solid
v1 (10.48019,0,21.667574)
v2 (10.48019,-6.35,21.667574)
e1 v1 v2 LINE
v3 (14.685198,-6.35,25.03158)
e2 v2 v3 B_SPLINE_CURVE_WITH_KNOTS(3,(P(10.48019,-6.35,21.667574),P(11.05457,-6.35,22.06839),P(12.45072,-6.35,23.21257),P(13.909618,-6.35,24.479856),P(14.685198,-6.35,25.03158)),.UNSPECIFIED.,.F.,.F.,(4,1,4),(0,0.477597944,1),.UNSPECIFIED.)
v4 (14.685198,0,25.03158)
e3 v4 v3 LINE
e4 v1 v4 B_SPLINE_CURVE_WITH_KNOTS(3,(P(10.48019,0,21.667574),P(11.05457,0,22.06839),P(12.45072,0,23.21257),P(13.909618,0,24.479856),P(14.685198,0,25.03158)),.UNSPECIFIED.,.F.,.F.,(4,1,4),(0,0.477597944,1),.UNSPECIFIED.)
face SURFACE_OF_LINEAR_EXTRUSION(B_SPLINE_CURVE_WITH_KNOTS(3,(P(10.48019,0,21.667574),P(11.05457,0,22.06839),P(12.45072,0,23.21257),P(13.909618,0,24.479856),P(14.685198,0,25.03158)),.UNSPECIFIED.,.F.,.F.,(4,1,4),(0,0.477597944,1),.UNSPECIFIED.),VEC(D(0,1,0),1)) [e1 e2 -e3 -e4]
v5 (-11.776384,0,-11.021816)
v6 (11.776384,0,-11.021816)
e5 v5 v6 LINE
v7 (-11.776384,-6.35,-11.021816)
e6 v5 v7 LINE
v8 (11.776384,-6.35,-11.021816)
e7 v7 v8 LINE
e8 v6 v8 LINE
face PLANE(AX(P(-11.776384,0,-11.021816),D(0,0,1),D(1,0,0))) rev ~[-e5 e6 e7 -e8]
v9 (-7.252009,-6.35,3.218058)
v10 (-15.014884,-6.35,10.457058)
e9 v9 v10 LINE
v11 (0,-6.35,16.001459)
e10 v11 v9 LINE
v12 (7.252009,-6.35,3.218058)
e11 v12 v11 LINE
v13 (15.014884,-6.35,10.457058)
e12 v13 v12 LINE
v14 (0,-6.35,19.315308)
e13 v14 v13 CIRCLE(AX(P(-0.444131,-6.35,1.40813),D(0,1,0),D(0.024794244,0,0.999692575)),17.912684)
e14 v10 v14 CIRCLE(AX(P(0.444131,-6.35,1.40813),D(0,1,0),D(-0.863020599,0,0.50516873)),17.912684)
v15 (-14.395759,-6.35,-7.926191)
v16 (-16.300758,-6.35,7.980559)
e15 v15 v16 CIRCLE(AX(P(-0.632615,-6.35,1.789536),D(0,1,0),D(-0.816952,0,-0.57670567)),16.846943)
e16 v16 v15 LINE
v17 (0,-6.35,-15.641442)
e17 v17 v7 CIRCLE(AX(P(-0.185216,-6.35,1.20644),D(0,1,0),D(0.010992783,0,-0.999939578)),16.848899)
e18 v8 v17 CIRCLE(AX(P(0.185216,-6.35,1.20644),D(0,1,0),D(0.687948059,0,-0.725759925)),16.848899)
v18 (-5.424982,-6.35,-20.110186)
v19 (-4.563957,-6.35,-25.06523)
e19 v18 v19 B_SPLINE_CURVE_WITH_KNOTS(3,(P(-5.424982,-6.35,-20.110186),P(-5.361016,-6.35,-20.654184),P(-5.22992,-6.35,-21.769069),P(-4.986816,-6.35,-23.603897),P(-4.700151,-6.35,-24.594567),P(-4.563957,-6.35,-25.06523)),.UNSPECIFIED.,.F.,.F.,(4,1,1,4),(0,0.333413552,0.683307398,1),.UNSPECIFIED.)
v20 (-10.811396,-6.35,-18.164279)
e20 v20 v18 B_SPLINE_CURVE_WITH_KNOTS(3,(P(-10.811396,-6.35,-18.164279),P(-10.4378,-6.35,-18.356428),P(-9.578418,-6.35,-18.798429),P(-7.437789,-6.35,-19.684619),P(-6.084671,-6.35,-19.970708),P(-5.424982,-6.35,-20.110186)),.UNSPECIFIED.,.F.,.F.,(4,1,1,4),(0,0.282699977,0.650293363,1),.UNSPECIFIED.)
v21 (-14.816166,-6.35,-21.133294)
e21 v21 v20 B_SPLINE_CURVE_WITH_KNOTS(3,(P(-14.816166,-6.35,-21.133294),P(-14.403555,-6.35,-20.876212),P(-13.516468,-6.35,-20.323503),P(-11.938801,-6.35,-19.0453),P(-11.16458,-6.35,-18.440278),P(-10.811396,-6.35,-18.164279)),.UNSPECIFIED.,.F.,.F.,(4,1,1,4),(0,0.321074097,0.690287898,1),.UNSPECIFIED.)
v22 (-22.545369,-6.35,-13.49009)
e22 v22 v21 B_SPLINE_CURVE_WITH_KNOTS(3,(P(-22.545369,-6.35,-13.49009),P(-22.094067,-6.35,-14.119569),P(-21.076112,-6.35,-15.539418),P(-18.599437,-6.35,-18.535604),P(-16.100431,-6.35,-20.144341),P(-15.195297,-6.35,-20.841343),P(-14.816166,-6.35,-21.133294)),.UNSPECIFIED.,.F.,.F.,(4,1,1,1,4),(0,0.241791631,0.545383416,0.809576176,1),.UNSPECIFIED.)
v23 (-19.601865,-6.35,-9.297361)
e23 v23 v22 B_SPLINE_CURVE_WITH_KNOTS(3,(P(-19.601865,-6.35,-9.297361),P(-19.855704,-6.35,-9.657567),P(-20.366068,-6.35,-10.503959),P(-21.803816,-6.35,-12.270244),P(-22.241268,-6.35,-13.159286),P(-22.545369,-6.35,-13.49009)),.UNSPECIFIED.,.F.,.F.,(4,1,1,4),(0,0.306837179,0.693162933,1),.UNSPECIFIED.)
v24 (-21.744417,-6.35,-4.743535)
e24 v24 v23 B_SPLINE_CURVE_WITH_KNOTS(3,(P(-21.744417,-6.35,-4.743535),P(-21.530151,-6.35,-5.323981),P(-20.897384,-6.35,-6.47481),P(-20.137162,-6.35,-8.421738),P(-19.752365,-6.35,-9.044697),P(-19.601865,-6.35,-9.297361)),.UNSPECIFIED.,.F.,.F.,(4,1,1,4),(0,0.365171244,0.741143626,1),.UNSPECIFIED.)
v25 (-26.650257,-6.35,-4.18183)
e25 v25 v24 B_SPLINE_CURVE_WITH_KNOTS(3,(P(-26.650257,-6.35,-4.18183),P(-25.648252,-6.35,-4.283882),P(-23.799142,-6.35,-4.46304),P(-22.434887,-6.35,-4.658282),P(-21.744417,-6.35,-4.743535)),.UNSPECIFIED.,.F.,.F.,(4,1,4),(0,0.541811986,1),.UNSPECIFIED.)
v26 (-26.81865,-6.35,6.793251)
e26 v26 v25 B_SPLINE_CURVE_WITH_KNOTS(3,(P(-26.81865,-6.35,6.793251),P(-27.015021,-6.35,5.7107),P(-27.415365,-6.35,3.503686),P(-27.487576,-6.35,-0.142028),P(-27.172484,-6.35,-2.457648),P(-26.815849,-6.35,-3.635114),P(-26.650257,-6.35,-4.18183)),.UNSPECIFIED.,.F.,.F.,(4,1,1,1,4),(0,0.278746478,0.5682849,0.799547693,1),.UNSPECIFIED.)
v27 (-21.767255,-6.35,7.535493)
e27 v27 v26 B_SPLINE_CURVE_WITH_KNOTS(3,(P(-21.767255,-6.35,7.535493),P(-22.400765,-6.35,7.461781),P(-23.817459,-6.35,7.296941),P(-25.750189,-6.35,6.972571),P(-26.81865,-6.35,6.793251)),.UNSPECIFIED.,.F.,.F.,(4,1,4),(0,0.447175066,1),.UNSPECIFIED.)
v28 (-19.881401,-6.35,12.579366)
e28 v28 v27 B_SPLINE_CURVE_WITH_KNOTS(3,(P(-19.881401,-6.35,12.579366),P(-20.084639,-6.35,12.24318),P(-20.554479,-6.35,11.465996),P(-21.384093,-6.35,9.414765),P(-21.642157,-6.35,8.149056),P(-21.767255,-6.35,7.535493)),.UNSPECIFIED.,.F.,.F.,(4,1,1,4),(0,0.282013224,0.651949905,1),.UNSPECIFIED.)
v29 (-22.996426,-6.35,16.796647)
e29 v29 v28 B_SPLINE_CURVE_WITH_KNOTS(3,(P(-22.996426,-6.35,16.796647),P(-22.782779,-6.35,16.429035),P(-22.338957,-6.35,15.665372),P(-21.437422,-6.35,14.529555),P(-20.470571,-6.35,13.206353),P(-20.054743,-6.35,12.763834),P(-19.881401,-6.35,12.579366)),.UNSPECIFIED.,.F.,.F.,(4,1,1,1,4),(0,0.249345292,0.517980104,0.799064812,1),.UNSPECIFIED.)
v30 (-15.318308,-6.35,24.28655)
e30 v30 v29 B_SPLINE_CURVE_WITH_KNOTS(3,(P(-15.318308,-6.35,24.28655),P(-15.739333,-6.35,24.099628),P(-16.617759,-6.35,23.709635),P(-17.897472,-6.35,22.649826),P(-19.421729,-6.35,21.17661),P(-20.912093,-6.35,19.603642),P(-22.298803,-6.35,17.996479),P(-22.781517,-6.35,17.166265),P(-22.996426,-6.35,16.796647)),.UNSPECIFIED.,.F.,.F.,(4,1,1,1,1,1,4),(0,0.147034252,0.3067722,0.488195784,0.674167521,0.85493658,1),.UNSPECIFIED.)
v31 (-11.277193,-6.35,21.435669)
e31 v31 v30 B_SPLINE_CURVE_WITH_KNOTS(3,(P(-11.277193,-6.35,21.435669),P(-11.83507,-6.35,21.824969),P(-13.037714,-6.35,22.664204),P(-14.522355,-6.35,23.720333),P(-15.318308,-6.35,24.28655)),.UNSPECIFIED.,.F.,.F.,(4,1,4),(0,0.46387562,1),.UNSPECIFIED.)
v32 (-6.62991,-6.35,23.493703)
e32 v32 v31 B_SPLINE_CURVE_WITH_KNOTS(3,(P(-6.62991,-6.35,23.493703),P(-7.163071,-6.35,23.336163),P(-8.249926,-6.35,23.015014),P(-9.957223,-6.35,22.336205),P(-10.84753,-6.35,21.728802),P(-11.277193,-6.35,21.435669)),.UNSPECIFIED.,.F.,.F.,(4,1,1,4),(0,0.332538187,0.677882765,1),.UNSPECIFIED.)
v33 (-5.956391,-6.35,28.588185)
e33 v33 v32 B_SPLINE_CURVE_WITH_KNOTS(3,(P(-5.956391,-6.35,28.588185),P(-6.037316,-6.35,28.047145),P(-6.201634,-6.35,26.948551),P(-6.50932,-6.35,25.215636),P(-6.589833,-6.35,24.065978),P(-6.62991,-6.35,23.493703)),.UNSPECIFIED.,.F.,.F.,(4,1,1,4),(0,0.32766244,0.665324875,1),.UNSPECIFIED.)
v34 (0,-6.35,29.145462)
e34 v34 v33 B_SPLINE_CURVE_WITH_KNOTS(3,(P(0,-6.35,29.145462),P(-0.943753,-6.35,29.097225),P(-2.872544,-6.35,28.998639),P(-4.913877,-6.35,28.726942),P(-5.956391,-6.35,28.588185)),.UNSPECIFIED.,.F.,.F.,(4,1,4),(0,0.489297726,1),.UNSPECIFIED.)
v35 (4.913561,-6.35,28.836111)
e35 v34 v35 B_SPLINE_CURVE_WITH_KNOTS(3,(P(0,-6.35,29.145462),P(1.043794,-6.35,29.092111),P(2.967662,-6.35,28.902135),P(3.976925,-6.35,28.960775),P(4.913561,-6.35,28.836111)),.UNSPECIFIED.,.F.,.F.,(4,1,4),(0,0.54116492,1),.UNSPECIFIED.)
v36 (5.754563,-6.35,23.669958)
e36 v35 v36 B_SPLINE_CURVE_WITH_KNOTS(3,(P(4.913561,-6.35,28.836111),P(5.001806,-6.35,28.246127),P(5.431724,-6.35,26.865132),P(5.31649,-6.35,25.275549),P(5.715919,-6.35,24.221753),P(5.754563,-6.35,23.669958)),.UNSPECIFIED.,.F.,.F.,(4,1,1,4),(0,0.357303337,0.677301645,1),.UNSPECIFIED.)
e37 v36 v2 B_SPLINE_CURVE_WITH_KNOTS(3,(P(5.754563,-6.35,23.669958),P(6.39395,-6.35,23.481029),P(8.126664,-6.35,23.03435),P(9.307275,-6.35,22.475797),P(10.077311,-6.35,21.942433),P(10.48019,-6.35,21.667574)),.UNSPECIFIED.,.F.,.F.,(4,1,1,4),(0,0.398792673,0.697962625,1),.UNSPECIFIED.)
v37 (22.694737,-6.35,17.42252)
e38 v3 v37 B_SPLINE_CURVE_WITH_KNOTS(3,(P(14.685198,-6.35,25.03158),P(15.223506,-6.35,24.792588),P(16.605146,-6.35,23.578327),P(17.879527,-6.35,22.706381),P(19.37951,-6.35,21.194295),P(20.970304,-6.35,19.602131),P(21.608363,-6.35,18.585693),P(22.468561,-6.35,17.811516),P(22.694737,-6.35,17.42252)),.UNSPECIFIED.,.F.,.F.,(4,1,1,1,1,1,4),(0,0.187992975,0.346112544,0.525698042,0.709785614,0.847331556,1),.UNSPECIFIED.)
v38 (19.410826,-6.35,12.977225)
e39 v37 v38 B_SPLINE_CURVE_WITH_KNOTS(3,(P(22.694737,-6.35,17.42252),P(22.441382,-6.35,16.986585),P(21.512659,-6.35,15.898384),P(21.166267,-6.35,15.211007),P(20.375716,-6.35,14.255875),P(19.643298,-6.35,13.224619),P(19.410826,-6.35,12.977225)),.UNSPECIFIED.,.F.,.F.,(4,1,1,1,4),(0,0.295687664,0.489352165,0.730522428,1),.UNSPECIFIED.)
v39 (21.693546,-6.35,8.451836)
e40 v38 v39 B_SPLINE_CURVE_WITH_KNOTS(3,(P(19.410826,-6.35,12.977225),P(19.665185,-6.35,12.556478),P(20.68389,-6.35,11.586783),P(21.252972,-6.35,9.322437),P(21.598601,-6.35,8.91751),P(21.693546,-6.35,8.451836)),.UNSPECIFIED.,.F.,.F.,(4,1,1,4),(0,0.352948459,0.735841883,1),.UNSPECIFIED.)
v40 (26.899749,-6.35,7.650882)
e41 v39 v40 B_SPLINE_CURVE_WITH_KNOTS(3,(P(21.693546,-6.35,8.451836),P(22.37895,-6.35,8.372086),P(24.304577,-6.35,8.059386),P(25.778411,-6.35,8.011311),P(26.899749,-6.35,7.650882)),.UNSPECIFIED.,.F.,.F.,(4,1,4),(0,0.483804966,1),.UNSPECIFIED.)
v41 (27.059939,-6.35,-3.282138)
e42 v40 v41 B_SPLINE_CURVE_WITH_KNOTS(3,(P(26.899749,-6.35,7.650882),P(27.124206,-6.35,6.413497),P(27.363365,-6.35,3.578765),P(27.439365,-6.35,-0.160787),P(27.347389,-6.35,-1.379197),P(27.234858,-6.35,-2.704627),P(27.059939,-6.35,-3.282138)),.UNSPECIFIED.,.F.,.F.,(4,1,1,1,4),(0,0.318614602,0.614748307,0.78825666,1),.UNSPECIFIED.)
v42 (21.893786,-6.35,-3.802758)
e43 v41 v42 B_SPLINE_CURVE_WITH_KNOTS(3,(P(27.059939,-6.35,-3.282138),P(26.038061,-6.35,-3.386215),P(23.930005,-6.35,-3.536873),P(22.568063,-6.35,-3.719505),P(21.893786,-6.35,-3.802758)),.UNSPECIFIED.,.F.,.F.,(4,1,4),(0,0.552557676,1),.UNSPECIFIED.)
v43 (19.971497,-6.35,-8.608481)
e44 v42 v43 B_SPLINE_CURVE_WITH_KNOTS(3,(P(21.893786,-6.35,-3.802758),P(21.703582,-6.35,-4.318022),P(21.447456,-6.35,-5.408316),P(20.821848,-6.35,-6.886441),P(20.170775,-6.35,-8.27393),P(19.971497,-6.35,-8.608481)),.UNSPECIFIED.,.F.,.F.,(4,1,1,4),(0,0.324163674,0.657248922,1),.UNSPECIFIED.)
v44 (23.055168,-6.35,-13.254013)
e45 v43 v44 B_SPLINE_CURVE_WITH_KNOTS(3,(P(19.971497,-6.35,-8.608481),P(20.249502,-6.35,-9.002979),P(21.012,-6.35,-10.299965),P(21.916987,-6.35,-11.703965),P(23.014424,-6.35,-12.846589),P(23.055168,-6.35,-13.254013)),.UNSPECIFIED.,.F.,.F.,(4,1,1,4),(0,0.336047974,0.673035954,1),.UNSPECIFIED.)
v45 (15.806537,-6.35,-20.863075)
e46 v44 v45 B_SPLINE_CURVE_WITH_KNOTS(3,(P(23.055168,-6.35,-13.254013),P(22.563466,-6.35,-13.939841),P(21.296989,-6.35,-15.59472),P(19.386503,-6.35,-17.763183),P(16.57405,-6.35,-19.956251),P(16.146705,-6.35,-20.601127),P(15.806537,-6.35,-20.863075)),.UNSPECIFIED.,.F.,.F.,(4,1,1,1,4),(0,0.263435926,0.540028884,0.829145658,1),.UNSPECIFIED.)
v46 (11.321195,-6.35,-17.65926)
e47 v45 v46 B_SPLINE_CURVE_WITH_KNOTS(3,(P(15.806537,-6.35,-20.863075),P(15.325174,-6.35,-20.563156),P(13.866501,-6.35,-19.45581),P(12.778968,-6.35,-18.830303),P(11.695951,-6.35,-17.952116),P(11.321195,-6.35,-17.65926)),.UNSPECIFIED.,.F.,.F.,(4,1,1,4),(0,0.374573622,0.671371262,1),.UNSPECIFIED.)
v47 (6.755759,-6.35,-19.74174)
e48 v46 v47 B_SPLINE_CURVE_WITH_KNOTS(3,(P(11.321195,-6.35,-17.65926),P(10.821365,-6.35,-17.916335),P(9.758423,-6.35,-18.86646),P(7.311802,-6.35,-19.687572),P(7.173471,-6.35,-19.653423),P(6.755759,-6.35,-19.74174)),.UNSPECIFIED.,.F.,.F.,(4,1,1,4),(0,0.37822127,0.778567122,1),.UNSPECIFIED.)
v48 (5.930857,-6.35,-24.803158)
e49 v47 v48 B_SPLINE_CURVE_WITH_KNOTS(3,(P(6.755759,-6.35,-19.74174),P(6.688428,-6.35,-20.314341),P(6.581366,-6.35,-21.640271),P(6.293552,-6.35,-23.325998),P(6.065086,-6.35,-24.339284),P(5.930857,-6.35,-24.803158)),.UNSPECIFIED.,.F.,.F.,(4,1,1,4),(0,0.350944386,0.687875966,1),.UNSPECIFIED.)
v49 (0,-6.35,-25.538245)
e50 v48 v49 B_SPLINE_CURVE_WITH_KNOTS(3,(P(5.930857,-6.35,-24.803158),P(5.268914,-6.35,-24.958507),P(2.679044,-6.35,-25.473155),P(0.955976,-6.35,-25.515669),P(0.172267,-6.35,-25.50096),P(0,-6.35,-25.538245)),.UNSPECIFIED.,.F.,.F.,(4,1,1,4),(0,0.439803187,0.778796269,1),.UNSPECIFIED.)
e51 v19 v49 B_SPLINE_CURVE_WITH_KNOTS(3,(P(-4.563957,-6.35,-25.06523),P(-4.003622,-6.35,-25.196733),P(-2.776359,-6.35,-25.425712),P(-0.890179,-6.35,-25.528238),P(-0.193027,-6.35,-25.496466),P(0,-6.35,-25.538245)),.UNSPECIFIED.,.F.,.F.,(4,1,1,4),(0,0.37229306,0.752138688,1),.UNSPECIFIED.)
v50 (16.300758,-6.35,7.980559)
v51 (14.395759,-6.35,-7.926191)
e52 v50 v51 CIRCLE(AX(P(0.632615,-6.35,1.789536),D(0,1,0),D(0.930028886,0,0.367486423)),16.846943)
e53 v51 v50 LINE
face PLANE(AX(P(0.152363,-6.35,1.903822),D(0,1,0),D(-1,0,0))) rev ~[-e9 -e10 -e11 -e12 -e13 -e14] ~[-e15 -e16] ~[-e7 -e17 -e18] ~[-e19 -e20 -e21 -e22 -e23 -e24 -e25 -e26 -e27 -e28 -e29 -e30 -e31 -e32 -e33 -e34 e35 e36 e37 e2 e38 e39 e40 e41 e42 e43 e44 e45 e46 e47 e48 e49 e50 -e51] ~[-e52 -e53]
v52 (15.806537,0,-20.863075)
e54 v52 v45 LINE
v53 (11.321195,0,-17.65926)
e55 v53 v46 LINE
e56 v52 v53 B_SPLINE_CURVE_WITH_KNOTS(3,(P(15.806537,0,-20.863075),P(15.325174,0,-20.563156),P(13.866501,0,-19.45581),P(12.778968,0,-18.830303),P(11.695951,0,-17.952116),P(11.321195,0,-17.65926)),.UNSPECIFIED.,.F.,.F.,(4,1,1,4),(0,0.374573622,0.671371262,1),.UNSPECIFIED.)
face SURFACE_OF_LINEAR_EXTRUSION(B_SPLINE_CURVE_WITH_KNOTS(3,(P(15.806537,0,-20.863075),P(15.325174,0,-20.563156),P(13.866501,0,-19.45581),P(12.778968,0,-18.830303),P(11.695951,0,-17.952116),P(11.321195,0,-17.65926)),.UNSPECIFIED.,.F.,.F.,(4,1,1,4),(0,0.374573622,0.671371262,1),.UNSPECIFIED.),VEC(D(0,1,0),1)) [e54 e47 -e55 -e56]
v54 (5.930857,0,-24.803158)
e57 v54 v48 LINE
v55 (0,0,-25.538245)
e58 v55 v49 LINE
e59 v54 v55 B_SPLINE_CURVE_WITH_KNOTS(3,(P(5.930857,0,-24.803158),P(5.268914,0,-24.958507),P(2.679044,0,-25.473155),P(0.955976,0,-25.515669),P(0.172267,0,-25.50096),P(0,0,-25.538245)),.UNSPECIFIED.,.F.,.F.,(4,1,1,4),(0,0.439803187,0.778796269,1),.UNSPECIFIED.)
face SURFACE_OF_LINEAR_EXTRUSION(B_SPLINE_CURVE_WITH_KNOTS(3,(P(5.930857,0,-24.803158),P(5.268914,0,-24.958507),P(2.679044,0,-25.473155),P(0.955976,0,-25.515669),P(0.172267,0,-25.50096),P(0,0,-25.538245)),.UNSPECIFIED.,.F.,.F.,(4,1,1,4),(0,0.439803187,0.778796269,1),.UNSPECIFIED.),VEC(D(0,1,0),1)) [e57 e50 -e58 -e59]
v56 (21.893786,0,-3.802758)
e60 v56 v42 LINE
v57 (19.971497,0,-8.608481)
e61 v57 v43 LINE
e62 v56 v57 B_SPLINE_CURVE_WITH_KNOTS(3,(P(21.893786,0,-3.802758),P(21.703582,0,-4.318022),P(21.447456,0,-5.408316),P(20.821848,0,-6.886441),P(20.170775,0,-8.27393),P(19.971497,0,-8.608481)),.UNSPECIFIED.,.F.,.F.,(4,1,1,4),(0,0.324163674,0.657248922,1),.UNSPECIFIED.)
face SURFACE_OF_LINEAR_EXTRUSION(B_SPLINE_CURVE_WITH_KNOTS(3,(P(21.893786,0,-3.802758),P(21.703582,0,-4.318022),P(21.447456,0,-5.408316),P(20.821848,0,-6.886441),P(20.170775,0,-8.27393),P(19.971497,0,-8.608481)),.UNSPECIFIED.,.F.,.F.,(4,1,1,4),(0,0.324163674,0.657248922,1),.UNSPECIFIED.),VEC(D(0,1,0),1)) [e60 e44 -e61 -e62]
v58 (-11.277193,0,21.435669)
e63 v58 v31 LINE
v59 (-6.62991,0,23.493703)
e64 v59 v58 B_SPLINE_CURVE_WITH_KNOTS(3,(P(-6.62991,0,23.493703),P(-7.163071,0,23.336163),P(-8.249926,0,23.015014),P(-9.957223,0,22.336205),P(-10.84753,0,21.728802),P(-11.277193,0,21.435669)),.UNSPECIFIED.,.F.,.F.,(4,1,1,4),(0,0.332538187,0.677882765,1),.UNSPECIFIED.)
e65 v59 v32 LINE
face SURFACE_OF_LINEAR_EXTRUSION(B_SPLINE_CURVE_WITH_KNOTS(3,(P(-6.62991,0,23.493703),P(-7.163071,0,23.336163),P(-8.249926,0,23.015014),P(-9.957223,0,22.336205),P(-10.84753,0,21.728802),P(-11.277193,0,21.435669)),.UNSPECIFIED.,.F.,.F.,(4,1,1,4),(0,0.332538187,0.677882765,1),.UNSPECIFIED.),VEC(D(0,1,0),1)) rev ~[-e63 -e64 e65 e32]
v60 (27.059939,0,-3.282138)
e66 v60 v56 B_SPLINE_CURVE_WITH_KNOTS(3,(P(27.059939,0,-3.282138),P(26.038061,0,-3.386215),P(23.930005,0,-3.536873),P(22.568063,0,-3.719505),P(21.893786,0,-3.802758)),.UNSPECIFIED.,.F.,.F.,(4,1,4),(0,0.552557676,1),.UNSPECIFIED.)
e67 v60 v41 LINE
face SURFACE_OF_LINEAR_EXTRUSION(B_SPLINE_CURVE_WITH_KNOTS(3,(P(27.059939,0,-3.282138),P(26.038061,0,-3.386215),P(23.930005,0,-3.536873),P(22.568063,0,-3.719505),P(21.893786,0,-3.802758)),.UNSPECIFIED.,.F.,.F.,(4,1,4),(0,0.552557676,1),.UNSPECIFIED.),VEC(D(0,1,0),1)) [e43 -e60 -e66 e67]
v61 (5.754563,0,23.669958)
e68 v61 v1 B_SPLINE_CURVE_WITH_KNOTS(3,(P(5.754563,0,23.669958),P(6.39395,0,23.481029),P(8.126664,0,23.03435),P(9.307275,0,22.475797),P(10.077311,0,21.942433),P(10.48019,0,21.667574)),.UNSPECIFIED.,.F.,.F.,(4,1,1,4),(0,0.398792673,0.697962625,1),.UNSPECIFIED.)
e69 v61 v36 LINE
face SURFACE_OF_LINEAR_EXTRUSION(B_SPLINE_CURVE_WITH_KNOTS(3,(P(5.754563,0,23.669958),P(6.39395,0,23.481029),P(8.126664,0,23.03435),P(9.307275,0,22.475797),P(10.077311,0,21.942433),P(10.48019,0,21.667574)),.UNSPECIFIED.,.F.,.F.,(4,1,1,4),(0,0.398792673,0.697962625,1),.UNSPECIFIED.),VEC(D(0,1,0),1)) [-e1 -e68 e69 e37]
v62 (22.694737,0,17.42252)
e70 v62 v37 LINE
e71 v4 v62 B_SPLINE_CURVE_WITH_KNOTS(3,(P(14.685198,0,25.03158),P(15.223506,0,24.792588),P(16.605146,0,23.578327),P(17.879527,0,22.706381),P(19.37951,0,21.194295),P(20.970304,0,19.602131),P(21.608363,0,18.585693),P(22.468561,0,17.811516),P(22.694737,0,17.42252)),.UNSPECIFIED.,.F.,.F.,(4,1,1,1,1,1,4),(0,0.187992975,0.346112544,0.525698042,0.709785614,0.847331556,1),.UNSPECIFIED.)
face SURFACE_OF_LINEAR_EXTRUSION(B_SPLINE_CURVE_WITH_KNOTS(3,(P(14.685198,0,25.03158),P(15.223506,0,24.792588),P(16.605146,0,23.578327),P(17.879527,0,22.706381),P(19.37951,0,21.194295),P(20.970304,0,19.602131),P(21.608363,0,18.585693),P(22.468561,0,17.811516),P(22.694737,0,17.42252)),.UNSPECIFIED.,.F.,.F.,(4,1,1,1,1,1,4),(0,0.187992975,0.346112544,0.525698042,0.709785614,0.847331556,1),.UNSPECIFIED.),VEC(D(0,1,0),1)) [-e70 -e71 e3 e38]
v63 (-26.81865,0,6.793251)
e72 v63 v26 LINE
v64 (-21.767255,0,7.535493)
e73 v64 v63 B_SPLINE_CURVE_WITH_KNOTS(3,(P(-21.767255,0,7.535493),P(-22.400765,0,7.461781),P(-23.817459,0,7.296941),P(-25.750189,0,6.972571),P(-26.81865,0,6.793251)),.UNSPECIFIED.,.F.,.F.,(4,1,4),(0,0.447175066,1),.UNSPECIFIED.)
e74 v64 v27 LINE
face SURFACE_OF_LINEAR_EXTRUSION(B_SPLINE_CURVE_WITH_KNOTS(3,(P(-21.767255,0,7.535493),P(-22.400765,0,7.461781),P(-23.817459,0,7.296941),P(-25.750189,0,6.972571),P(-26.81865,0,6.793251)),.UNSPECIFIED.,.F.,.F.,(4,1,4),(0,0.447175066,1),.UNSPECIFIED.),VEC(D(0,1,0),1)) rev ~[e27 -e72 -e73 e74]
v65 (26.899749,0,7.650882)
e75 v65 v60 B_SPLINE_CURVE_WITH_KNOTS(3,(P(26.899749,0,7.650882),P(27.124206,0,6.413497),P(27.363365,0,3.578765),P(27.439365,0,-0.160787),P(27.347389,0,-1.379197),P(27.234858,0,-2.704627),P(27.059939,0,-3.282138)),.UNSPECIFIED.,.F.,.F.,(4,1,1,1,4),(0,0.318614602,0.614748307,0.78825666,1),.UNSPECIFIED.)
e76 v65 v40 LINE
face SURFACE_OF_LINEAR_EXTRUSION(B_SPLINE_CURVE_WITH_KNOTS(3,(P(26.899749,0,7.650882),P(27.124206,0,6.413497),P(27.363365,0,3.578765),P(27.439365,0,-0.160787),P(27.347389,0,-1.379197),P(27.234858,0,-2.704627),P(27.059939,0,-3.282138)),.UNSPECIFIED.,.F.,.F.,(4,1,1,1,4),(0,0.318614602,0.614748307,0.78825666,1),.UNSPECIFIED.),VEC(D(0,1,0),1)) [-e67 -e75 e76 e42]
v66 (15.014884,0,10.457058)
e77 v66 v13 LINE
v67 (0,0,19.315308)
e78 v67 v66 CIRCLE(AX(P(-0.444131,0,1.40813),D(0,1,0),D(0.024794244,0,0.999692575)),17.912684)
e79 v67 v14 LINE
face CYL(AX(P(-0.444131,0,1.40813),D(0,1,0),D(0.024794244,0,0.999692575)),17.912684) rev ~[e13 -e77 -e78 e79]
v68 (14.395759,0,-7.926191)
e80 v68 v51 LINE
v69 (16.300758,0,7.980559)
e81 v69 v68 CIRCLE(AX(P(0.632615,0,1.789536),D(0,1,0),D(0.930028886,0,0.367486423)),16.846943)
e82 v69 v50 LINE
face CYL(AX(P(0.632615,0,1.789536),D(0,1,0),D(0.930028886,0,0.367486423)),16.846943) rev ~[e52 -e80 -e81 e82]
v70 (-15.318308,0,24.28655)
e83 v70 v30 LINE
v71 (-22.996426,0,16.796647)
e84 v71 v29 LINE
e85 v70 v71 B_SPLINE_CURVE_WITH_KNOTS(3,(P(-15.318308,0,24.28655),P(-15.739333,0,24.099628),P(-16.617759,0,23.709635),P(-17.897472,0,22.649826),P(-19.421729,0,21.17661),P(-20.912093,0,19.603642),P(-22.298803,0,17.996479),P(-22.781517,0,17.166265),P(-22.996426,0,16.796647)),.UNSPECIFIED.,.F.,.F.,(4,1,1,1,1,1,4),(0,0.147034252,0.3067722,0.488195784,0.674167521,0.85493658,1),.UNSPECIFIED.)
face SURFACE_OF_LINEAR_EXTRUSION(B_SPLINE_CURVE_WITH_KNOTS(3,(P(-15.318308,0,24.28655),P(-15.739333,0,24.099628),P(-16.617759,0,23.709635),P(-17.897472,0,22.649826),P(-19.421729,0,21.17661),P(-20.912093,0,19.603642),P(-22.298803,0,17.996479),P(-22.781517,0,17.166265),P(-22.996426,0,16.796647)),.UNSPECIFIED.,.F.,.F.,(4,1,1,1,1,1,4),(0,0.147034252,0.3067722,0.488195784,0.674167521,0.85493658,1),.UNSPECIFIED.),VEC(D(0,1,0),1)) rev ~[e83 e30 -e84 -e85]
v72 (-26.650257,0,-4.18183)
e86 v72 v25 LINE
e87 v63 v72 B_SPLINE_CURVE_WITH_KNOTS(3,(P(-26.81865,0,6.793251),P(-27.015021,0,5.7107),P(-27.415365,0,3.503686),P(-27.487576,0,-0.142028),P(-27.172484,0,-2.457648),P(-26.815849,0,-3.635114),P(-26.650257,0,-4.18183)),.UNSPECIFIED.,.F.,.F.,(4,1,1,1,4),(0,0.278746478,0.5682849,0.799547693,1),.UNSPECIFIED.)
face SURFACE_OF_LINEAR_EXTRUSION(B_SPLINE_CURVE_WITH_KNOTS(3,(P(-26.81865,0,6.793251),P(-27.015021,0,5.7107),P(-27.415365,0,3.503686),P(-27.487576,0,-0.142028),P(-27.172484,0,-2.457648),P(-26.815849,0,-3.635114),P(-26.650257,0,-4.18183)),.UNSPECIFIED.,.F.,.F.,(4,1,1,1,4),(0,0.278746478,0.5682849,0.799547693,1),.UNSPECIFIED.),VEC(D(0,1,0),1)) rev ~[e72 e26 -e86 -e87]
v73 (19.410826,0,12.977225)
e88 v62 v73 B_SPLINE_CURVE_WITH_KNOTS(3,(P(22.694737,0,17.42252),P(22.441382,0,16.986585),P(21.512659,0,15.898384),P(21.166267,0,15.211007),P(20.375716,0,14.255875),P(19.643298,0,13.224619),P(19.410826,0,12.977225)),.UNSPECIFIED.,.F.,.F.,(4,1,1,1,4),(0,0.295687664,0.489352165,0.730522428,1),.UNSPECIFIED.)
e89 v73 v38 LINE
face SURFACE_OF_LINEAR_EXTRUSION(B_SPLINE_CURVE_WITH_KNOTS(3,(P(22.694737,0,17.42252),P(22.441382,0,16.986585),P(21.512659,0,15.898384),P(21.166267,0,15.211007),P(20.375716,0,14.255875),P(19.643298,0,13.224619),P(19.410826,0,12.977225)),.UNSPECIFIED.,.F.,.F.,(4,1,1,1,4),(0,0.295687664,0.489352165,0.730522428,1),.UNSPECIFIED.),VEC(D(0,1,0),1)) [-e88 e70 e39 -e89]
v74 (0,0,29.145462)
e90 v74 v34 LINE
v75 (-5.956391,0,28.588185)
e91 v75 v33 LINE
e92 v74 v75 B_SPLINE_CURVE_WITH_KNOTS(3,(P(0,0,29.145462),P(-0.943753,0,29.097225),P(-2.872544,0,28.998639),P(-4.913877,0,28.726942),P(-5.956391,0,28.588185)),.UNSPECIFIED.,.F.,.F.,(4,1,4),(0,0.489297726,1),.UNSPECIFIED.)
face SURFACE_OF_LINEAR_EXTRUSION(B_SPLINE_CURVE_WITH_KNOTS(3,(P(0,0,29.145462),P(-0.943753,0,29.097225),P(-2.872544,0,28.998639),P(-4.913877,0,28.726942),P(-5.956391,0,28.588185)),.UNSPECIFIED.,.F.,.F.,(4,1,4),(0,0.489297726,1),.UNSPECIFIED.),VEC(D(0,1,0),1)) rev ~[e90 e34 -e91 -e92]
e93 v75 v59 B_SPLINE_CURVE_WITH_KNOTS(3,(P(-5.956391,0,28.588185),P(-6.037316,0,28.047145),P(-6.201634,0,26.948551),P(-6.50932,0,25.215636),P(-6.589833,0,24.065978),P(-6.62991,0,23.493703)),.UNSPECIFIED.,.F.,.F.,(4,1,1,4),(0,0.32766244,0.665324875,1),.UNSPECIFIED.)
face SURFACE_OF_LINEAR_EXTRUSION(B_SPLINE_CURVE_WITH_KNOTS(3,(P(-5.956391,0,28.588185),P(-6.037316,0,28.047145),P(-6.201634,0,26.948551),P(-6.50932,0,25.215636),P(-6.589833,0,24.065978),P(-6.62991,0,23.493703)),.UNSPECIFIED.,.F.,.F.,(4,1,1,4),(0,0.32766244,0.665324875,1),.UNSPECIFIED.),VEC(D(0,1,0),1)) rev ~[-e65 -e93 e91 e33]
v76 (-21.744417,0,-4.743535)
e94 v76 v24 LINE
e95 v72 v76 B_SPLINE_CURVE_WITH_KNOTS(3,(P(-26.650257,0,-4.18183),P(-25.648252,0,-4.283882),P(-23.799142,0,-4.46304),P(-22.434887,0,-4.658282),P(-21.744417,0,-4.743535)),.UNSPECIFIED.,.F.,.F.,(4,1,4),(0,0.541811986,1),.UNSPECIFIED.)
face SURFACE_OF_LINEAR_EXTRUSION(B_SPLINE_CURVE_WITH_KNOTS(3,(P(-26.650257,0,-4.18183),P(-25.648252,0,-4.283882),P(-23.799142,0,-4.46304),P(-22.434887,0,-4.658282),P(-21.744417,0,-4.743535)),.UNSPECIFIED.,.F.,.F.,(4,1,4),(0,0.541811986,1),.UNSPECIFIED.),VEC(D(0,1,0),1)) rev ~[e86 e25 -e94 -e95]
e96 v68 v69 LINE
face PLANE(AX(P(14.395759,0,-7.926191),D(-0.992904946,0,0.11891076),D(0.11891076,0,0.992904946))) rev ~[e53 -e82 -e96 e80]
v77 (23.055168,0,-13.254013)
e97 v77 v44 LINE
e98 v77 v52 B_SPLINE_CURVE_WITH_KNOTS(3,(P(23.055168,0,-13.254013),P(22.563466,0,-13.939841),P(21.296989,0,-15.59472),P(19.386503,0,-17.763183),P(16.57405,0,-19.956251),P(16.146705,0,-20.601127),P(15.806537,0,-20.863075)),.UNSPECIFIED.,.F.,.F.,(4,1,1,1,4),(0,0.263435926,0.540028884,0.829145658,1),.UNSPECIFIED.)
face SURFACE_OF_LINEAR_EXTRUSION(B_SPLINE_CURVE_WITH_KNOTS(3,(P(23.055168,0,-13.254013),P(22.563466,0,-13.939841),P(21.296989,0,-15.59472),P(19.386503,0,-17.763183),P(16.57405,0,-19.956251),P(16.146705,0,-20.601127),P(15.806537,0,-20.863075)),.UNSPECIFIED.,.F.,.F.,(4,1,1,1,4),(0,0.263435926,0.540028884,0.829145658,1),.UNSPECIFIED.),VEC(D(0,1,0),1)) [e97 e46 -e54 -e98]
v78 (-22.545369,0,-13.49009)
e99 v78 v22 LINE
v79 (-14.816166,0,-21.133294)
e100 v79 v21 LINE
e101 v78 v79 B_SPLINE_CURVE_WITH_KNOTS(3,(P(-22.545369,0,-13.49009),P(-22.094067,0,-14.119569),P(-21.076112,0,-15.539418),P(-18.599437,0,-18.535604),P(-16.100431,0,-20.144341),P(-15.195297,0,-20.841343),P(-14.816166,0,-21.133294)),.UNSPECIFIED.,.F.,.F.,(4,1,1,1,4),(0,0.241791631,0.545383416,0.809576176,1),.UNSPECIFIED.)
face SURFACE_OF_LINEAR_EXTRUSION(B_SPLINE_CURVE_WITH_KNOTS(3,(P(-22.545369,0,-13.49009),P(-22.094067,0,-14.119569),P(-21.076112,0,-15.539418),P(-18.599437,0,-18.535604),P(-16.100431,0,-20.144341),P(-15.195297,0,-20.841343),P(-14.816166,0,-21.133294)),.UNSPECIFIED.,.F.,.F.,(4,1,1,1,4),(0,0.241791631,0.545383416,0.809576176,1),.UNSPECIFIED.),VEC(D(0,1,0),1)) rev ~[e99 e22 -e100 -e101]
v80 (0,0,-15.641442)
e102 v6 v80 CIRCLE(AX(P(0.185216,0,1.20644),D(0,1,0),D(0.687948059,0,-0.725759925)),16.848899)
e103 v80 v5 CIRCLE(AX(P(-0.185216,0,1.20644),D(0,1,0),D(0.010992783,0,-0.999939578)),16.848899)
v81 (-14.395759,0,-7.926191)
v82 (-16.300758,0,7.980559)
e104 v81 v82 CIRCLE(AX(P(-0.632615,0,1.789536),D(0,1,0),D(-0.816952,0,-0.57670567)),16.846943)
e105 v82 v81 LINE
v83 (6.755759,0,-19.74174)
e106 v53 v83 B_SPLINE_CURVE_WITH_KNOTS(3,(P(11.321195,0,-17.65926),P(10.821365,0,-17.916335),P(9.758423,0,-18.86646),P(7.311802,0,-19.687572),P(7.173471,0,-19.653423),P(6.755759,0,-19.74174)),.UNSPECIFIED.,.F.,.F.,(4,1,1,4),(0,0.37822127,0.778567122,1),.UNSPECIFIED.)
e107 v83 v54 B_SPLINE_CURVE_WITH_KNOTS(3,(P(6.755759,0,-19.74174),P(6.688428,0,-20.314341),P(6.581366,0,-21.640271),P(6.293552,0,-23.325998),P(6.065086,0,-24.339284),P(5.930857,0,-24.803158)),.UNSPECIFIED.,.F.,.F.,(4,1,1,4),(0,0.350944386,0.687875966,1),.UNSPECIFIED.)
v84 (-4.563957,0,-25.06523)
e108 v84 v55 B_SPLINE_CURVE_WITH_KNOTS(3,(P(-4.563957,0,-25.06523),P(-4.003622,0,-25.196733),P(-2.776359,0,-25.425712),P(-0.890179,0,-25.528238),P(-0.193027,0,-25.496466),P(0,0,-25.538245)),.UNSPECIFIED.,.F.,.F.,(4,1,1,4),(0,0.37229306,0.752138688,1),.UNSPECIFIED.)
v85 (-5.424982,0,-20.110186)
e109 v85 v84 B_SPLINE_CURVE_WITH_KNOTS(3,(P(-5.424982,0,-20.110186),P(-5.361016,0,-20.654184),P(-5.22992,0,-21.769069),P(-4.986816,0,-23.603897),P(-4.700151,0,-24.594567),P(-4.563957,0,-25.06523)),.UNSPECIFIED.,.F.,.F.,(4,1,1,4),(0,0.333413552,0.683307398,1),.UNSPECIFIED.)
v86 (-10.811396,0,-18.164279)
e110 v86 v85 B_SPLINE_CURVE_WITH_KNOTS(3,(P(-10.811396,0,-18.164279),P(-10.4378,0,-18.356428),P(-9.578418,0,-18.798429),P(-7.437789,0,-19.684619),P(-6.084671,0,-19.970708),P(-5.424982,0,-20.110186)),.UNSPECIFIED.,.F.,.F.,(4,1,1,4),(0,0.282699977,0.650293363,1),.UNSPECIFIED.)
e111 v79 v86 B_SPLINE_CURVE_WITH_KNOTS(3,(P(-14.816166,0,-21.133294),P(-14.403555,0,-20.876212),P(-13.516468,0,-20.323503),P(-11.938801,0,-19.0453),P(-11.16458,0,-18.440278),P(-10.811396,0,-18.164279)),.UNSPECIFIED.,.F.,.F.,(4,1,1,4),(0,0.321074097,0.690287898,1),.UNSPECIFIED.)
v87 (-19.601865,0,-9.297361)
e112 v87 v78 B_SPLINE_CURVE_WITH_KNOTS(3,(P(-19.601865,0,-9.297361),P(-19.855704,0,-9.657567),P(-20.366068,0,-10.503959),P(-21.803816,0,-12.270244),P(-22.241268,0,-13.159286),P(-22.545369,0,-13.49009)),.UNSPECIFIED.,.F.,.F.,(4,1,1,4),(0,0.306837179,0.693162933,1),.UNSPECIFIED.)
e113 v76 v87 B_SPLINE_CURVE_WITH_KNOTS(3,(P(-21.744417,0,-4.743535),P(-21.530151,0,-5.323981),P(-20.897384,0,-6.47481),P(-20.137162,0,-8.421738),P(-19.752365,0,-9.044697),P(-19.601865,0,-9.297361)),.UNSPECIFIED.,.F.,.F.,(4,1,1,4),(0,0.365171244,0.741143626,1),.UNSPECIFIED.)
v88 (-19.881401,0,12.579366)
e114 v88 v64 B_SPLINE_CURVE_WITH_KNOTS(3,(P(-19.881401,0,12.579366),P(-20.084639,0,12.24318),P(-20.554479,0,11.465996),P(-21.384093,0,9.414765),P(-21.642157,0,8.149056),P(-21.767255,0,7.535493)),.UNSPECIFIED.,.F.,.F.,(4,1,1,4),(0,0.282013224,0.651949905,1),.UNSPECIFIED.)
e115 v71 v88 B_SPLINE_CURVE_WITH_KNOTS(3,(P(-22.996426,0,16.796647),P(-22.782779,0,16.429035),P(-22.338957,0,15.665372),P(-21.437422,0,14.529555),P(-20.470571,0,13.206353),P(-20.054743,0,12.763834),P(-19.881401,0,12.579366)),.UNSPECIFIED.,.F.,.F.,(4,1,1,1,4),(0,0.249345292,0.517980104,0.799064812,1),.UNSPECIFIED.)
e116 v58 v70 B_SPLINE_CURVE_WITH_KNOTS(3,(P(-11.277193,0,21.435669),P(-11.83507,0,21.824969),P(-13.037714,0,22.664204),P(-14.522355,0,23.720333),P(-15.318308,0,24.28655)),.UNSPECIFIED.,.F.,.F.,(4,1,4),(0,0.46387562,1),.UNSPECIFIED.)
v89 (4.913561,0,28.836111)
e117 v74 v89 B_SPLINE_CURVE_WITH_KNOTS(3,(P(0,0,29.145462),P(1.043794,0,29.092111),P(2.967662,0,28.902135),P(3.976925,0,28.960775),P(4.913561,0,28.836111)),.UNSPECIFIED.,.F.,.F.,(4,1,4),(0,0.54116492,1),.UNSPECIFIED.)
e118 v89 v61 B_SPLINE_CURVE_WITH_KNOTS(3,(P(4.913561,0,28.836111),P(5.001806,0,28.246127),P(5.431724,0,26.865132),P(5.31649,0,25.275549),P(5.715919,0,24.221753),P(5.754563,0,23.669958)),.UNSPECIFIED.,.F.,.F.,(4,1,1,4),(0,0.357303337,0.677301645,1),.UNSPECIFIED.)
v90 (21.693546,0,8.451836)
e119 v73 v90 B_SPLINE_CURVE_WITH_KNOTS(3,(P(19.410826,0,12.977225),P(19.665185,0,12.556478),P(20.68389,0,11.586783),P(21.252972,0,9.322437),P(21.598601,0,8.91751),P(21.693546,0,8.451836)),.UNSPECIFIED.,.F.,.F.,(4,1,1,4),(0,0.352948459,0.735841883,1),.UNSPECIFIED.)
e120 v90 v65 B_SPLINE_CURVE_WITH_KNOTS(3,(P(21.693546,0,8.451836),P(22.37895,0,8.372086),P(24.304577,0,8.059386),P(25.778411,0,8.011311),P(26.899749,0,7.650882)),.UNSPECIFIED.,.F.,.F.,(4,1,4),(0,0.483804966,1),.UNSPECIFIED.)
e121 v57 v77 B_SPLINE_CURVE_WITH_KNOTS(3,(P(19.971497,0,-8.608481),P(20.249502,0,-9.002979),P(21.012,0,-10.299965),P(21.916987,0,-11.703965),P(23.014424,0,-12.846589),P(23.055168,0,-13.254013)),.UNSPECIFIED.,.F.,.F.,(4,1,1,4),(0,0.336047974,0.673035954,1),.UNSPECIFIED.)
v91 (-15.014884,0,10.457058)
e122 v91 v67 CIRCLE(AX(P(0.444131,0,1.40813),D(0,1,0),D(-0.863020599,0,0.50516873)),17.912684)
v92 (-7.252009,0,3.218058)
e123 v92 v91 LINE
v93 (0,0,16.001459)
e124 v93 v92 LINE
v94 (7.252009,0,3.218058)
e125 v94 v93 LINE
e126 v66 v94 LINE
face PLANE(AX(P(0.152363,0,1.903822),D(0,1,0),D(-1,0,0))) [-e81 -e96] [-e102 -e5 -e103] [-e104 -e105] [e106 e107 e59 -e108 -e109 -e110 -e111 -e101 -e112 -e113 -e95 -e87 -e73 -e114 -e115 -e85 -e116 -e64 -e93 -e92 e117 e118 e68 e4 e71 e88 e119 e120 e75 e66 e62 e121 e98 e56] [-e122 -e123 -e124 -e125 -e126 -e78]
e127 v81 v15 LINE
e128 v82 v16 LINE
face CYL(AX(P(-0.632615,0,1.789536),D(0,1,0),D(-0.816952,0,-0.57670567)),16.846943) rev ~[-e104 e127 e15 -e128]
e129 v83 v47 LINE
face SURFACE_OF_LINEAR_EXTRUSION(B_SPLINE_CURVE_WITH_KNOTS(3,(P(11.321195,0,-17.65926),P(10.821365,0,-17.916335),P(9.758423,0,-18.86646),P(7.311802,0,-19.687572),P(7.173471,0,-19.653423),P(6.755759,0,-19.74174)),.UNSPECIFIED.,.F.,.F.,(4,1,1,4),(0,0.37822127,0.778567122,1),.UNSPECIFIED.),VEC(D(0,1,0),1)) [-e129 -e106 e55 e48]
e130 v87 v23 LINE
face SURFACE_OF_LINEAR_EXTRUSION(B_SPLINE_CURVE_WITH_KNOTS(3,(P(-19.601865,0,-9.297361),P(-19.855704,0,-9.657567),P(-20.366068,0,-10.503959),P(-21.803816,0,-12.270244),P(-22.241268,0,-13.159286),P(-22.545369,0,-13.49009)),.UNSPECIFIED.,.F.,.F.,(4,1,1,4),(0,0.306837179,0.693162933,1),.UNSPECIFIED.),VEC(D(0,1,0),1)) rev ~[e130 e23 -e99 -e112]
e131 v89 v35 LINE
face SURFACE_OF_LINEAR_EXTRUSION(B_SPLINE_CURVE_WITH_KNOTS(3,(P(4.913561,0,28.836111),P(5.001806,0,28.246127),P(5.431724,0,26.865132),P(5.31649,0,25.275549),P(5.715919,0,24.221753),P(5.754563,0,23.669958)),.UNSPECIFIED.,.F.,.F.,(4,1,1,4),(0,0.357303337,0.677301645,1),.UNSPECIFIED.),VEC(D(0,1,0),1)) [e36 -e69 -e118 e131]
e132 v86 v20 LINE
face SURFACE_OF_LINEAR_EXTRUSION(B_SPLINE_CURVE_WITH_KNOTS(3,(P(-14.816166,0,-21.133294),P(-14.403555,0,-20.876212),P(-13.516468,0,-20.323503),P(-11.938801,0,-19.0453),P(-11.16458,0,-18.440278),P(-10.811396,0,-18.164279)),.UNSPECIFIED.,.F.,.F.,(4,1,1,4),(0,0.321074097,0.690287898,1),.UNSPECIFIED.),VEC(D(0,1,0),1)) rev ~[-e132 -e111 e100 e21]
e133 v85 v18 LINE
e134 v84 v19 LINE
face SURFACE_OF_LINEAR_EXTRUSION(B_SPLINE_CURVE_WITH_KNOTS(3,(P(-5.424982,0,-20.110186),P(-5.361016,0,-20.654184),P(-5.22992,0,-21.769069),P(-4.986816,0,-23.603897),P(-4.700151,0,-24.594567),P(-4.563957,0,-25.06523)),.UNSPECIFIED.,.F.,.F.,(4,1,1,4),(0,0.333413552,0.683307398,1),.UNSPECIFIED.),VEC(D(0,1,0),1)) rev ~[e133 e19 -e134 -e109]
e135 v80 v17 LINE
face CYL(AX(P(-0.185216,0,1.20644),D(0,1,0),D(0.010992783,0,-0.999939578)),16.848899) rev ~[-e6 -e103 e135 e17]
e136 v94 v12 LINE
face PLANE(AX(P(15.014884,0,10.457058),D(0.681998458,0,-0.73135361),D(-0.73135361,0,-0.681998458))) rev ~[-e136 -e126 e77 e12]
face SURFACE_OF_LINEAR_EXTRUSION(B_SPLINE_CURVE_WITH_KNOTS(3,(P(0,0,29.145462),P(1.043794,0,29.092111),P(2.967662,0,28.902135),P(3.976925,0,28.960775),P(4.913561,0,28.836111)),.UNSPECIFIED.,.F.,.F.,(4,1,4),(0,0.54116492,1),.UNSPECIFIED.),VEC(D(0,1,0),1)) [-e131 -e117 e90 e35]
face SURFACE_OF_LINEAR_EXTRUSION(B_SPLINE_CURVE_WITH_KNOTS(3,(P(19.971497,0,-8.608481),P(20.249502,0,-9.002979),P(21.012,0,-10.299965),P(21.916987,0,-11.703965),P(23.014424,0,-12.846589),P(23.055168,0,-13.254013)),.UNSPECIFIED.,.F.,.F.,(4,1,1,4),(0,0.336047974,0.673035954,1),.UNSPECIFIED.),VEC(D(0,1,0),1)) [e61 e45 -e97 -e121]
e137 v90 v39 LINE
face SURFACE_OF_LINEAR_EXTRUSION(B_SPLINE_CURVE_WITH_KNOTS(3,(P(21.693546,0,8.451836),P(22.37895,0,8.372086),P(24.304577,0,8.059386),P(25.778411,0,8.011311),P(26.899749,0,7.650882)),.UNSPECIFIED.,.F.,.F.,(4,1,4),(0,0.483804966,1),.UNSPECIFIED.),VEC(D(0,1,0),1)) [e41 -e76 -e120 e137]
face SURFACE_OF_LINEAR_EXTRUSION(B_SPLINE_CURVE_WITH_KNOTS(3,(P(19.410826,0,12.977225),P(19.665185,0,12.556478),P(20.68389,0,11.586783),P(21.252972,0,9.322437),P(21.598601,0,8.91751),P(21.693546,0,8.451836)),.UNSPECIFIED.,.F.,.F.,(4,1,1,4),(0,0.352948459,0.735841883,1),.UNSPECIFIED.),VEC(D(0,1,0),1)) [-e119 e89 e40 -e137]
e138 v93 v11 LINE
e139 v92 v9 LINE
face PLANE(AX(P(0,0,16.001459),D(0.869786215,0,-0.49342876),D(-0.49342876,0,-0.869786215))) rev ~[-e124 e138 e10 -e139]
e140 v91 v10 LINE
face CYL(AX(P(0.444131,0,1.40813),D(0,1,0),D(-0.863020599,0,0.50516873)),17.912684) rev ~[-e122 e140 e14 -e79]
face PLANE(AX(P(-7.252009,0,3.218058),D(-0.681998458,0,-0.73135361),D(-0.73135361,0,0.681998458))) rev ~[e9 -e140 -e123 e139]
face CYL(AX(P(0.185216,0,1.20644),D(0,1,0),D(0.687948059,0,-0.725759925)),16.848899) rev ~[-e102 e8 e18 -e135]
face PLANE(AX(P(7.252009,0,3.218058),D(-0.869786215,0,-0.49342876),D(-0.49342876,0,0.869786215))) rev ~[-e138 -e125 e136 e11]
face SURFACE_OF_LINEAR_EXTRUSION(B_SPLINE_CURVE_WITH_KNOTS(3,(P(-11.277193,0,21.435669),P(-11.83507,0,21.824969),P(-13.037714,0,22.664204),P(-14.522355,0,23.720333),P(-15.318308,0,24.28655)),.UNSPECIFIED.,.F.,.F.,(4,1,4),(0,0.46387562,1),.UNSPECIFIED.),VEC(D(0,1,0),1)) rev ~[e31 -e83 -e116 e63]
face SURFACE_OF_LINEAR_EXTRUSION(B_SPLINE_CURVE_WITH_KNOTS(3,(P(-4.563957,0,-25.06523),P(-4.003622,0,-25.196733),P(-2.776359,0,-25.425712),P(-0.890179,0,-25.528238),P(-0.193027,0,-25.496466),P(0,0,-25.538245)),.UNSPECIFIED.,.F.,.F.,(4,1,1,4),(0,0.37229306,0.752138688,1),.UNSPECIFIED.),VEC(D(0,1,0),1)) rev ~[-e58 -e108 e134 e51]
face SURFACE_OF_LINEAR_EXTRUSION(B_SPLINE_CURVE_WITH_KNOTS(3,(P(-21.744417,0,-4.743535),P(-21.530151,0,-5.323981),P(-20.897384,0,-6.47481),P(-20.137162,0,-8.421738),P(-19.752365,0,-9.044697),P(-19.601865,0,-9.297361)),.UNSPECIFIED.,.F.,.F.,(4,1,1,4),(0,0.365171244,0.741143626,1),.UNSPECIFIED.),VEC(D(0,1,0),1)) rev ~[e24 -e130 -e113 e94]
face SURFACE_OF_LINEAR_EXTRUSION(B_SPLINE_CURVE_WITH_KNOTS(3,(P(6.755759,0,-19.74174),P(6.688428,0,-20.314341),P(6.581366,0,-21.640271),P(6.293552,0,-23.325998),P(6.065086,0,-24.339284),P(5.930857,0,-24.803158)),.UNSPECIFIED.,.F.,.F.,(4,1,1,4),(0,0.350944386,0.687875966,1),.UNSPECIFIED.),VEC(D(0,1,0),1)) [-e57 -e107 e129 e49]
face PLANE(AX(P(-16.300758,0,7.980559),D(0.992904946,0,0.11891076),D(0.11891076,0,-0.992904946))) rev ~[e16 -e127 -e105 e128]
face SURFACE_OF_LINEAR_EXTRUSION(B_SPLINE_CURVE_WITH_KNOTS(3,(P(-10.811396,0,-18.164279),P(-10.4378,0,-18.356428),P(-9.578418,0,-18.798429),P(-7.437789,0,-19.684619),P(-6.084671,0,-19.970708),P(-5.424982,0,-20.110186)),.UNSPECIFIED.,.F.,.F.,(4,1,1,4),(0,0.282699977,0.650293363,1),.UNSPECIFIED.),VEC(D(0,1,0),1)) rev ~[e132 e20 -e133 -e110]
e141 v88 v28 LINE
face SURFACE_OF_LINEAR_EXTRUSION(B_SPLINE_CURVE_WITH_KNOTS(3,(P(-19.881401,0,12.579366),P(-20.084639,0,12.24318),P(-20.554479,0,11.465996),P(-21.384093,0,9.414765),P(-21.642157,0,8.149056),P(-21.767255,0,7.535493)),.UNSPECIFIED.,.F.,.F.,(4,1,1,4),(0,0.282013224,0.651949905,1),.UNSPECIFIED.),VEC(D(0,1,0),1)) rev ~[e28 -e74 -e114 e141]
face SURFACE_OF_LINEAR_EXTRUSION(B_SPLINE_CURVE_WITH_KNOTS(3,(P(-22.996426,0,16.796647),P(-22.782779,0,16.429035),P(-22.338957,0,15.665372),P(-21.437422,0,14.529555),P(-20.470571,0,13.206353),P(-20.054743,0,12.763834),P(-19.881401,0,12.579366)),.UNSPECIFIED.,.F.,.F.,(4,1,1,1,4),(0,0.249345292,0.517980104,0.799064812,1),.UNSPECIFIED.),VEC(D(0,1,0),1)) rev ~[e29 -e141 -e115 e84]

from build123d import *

# Parameters (mm, degrees)
F1_DEPTH = 6.35


with BuildPart() as f1:
    # F0 (on Front) → F1 (new body)
    with BuildSketch(Plane.XZ):
        with BuildLine():
            add(Edge.make_bspline(
                [(0, 29.1454624385), (1.0437938543, 29.092111315), (2.9676615883, 28.9021353997), (3.9769254433, 28.960774908), (4.9135610461, 28.8361106068)],
                knots=[0, 0, 0, 0, 0.5411649205, 1, 1, 1, 1], degree=3))
            add(Edge.make_bspline(
                [(0, 29.1454624385), (-0.9437528923, 29.0972246788), (-2.8725435711, 28.9986389771), (-4.9138774721, 28.7269415704), (-5.9563913383, 28.5881850868)],
                knots=[0, 0, 0, 0, 0.4892977256, 1, 1, 1, 1], degree=3))
            add(Edge.make_bspline(
                [(-5.9563913383, 28.5881850868), (-6.0373155006, 28.0471445059), (-6.2016335657, 26.9485512193), (-6.5093200592, 25.2156363617), (-6.5898328104, 24.0659783815), (-6.62991032, 23.4937034547)],
                knots=[0, 0, 0, 0, 0.3276624402, 0.6653248753, 1, 1, 1, 1], degree=3))
            add(Edge.make_bspline(
                [(-6.62991032, 23.4937034547), (-7.1630712073, 23.3361625005), (-8.2499255604, 23.0150135266), (-9.9572225739, 22.336204538), (-10.8475304186, 21.7288015321), (-11.2771932036, 21.435668692)],
                knots=[0, 0, 0, 0, 0.3325381872, 0.6778827649, 1, 1, 1, 1], degree=3))
            add(Edge.make_bspline(
                [(-11.2771932036, 21.435668692), (-11.8350702765, 21.8249692799), (-13.0377139366, 22.6642041338), (-14.5223554917, 23.7203330679), (-15.3183080256, 24.2865495384)],
                knots=[0, 0, 0, 0, 0.4638756196, 1, 1, 1, 1], degree=3))
            add(Edge.make_bspline(
                [(-15.3183080256, 24.2865495384), (-15.7393330058, 24.0996279574), (-16.6177593429, 23.7096348514), (-17.8974724533, 22.6498262533), (-19.4217291693, 21.176610486), (-20.9120929279, 19.6036415161), (-22.2988027199, 17.9964793951), (-22.7815170567, 17.1662651554), (-22.9964256287, 16.7966466397)],
                knots=[0, 0, 0, 0, 0.1470342518, 0.3067721995, 0.488195784, 0.6741675209, 0.8549365796, 1, 1, 1, 1], degree=3))
            add(Edge.make_bspline(
                [(-22.9964256287, 16.7966466397), (-22.7827786963, 16.4290347992), (-22.3389569602, 15.6653724171), (-21.4374221971, 14.5295552957), (-20.4705705808, 13.2063534042), (-20.054743296, 12.7638344348), (-19.881401211, 12.5793656334)],
                knots=[0, 0, 0, 0, 0.2493452916, 0.5179801039, 0.7990648116, 1, 1, 1, 1], degree=3))
            add(Edge.make_bspline(
                [(-19.881401211, 12.5793656334), (-20.0846392768, 12.2431799217), (-20.5544790803, 11.4659956468), (-21.3840934518, 9.4147652747), (-21.6421566332, 8.1490557932), (-21.7672549188, 7.5354925357)],
                knots=[0, 0, 0, 0, 0.2820132239, 0.6519499051, 1, 1, 1, 1], degree=3))
            add(Edge.make_bspline(
                [(-21.7672549188, 7.5354925357), (-22.4007651503, 7.4617805928), (-23.8174591466, 7.2969414761), (-25.7501887359, 6.9725709243), (-26.8186498433, 6.7932507955)],
                knots=[0, 0, 0, 0, 0.4471750661, 1, 1, 1, 1], degree=3))
            add(Edge.make_bspline(
                [(-26.8186498433, 6.7932507955), (-27.0150206584, 5.7106997675), (-27.4153649769, 3.5036856882), (-27.487576028, -0.1420278505), (-27.1724841229, -2.4576482164), (-26.8158489096, -3.6351135415), (-26.6502574086, -4.1818297468)],
                knots=[0, 0, 0, 0, 0.2787464784, 0.5682848997, 0.7995476925, 1, 1, 1, 1], degree=3))
            add(Edge.make_bspline(
                [(-26.6502574086, -4.1818297468), (-25.6482524067, -4.283882262), (-23.7991424402, -4.4630401598), (-22.4348870789, -4.6582824608), (-21.7444170266, -4.7435350716)],
                knots=[0, 0, 0, 0, 0.5418119861, 1, 1, 1, 1], degree=3))
            add(Edge.make_bspline(
                [(-21.7444170266, -4.7435350716), (-21.5301513936, -5.3239807478), (-20.8973837805, -6.4748096374), (-20.1371624634, -8.4217377612), (-19.7523654924, -9.0446974596), (-19.6018647403, -9.2973606661)],
                knots=[0, 0, 0, 0, 0.3651712445, 0.7411436265, 1, 1, 1, 1], degree=3))
            add(Edge.make_bspline(
                [(-19.6018647403, -9.2973606661), (-19.8557043075, -9.6575667806), (-20.3660684195, -10.5039588883), (-21.8038157451, -12.2702435785), (-22.2412676268, -13.1592855453), (-22.545369342, -13.4900901467)],
                knots=[0, 0, 0, 0, 0.3068371792, 0.6931629329, 1, 1, 1, 1], degree=3))
            add(Edge.make_bspline(
                [(-22.545369342, -13.4900901467), (-22.0940668912, -14.1195692007), (-21.0761124198, -15.5394175013), (-18.599436748, -18.5356038568), (-16.1004309615, -20.144341254), (-15.1952966672, -20.8413432762), (-14.8161659017, -21.133294329)],
                knots=[0, 0, 0, 0, 0.2417916314, 0.5453834162, 0.8095761762, 1, 1, 1, 1], degree=3))
            add(Edge.make_bspline(
                [(-14.8161659017, -21.133294329), (-14.4035545557, -20.8762121849), (-13.5164676765, -20.3235027183), (-11.938800627, -19.0453001605), (-11.1645796897, -18.4402777711), (-10.8113959432, -18.1642789394)],
                knots=[0, 0, 0, 0, 0.321074097, 0.6902878978, 1, 1, 1, 1], degree=3))
            add(Edge.make_bspline(
                [(-10.8113959432, -18.1642789394), (-10.4377997552, -18.356428426), (-9.578418285, -18.7984289431), (-7.4377889326, -19.6846188267), (-6.0846706958, -19.9707083991), (-5.4249824025, -20.1101861894)],
                knots=[0, 0, 0, 0, 0.2826999765, 0.6502933629, 1, 1, 1, 1], degree=3))
            add(Edge.make_bspline(
                [(-5.4249824025, -20.1101861894), (-5.3610155769, -20.6541840451), (-5.2299201103, -21.7690690184), (-4.9868161685, -23.6038968225), (-4.700150649, -24.5945667946), (-4.5639569871, -25.0652302057)],
                knots=[0, 0, 0, 0, 0.3334135521, 0.6833073978, 1, 1, 1, 1], degree=3))
            add(Edge.make_bspline(
                [(-4.5639569871, -25.0652302057), (-4.0036224765, -25.1967327146), (-2.7763592192, -25.4257120062), (-0.8901785241, -25.5282377636), (-0.1930272857, -25.4964662667), (0, -25.538245216)],
                knots=[0, 0, 0, 0, 0.3722930601, 0.7521386883, 1, 1, 1, 1], degree=3))
            add(Edge.make_bspline(
                [(5.9308572672, -24.8031578958), (5.2689139487, -24.9585065411), (2.6790443076, -25.4731548763), (0.9559764293, -25.5156687774), (0.1722671255, -25.5009596091), (0, -25.538245216)],
                knots=[0, 0, 0, 0, 0.4398031871, 0.7787962694, 1, 1, 1, 1], degree=3))
            add(Edge.make_bspline(
                [(6.7557585426, -19.7417400777), (6.688428351, -20.314341258), (6.5813657899, -21.6402709566), (6.2935524423, -23.3259978833), (6.0650862164, -24.3392842162), (5.9308572672, -24.8031578958)],
                knots=[0, 0, 0, 0, 0.350944386, 0.6878759656, 1, 1, 1, 1], degree=3))
            add(Edge.make_bspline(
                [(11.3211954013, -17.6592599601), (10.8213650634, -17.9163346998), (9.7584232665, -18.866459568), (7.3118023933, -19.6875722622), (7.1734705952, -19.6534232853), (6.7557585426, -19.7417400777)],
                knots=[0, 0, 0, 0, 0.3782212702, 0.7785671222, 1, 1, 1, 1], degree=3))
            add(Edge.make_bspline(
                [(15.8065371215, -20.8630748093), (15.3251736992, -20.56315591), (13.8665011648, -19.4558100421), (12.7789681935, -18.8303028026), (11.6959509508, -17.9521162845), (11.3211954013, -17.6592599601)],
                knots=[0, 0, 0, 0, 0.3745736215, 0.6713712616, 1, 1, 1, 1], degree=3))
            add(Edge.make_bspline(
                [(23.0551678687, -13.2540129125), (22.5634664887, -13.9398406075), (21.2969886908, -15.5947202126), (19.3865031013, -17.7631830268), (16.5740495299, -19.9562511424), (16.1467053643, -20.6011269916), (15.8065371215, -20.8630748093)],
                knots=[0, 0, 0, 0, 0.2634359256, 0.5400288837, 0.8291456578, 1, 1, 1, 1], degree=3))
            add(Edge.make_bspline(
                [(19.9714973569, -8.6084809154), (20.2495023641, -9.0029785287), (21.011999566, -10.2999652272), (21.9169868652, -11.70396495), (23.0144243441, -12.8465890354), (23.0551678687, -13.2540129125)],
                knots=[0, 0, 0, 0, 0.3360479736, 0.6730359544, 1, 1, 1, 1], degree=3))
            add(Edge.make_bspline(
                [(21.8937862664, -3.8027581759), (21.7035819832, -4.3180216468), (21.4474562337, -5.4083164729), (20.8218480912, -6.8864413809), (20.1707750268, -8.2739301949), (19.9714973569, -8.6084809154)],
                knots=[0, 0, 0, 0, 0.3241636739, 0.6572489225, 1, 1, 1, 1], degree=3))
            add(Edge.make_bspline(
                [(27.0599387586, -3.2821381465), (26.0380611154, -3.3862146566), (23.9300050389, -3.5368732847), (22.5680630159, -3.7195049586), (21.8937862664, -3.8027581759)],
                knots=[0, 0, 0, 0, 0.5525576762, 1, 1, 1, 1], degree=3))
            add(Edge.make_bspline(
                [(26.8997494131, 7.65088154), (27.1242064519, 6.4134970641), (27.3633651924, 3.5787653193), (27.439365489, -0.1607865373), (27.3473887116, -1.3791971203), (27.2348576602, -2.7046266344), (27.0599387586, -3.2821381465)],
                knots=[0, 0, 0, 0, 0.3186146021, 0.6147483075, 0.7882566602, 1, 1, 1, 1], degree=3))
            add(Edge.make_bspline(
                [(21.693546325, 8.4518361837), (22.3789499151, 8.3720862005), (24.304576792, 8.0593863157), (25.7784109563, 8.0113112926), (26.8997494131, 7.65088154)],
                knots=[0, 0, 0, 0, 0.4838049656, 1, 1, 1, 1], degree=3))
            add(Edge.make_bspline(
                [(19.4108262658, 12.9772247747), (19.6651851258, 12.5564777356), (20.683890471, 11.5867833538), (21.2529723436, 9.3224373945), (21.598601005, 8.9175097099), (21.693546325, 8.4518361837)],
                knots=[0, 0, 0, 0, 0.352948459, 0.7358418825, 1, 1, 1, 1], degree=3))
            add(Edge.make_bspline(
                [(22.6947367191, 17.4225196242), (22.4413821761, 16.9865848375), (21.5126588146, 15.8983840367), (21.1662670639, 15.2110067721), (20.3757160555, 14.255874727), (19.6432982612, 13.2246189971), (19.4108262658, 12.9772247747)],
                knots=[0, 0, 0, 0, 0.2956876643, 0.4893521651, 0.730522428, 1, 1, 1, 1], degree=3))
            add(Edge.make_bspline(
                [(14.6851977333, 25.0315796584), (15.2235059004, 24.7925881059), (16.6051459422, 23.5783271475), (17.8795272181, 22.7063806851), (19.3795101389, 21.1942951621), (20.9703035578, 19.602131019), (21.6083627989, 18.5856925536), (22.4685614557, 17.8115155791), (22.6947367191, 17.4225196242)],
                knots=[0, 0, 0, 0, 0.187992975, 0.3461125439, 0.5256980424, 0.7097856138, 0.8473315558, 1, 1, 1, 1], degree=3))
            add(Edge.make_bspline(
                [(10.480189696, 21.667573601), (11.0545698354, 22.0683904419), (12.4507201039, 23.2125696165), (13.9096179326, 24.4798557319), (14.6851977333, 25.0315796584)],
                knots=[0, 0, 0, 0, 0.4775979441, 1, 1, 1, 1], degree=3))
            add(Edge.make_bspline(
                [(5.7545625605, 23.6699581146), (6.3939497446, 23.4810289011), (8.1266642272, 23.0343498509), (9.3072746554, 22.4757967175), (10.0773108512, 21.9424333843), (10.480189696, 21.667573601)],
                knots=[0, 0, 0, 0, 0.3987926726, 0.6979626253, 1, 1, 1, 1], degree=3))
            add(Edge.make_bspline(
                [(4.9135610461, 28.8361106068), (5.0018057445, 28.2461265834), (5.4317244157, 26.8651315663), (5.3164898818, 25.2755494168), (5.7159192748, 24.2217534645), (5.7545625605, 23.6699581146)],
                knots=[0, 0, 0, 0, 0.3573033365, 0.677301645, 1, 1, 1, 1], degree=3))
        make_face()
        with BuildLine():
            ThreePointArc((-14.3957585096, -7.9261912033), (-17.36002773, -0.2137465224), (-16.3007583469, 7.9805590212))
            Line((-16.3007583469, 7.9805590212), (-14.3957585096, -7.9261912033))
        make_face(mode=Mode.SUBTRACT)
        with BuildLine():
            ThreePointArc((0, -15.6414415687), (-6.3381965817, -14.4787839931), (-11.7763839662, -11.0218161717))
            Line((-11.7763839662, -11.0218161717), (0, -11.0218161717))
            Line((0, -11.0218161717), (11.7763839662, -11.0218161717))
            ThreePointArc((11.7763839662, -11.0218161717), (6.3381965817, -14.4787839931), (0, -15.6414415687))
        make_face(mode=Mode.SUBTRACT)
        with BuildLine():
            Line((14.3957585096, -7.9261912033), (16.3007583469, 7.9805590212))
            ThreePointArc((16.3007583469, 7.9805590212), (17.36002773, -0.2137465224), (14.3957585096, -7.9261912033))
        make_face(mode=Mode.SUBTRACT)
        with BuildLine():
            Line((7.2520091198, 3.2180584967), (0, 16.0014592111))
            Line((0, 16.0014592111), (-7.2520091198, 3.2180584967))
            Line((-7.2520091198, 3.2180584967), (-15.0148840621, 10.4570584372))
            ThreePointArc((-15.0148840621, 10.4570584372), (-8.6577731267, 16.8360140302), (0, 19.3153079599))
            ThreePointArc((0, 19.3153079599), (8.6577731267, 16.8360140302), (15.0148840621, 10.4570584372))
            Line((15.0148840621, 10.4570584372), (7.2520091198, 3.2180584967))
        make_face(mode=Mode.SUBTRACT)
    extrude(amount=F1_DEPTH)


solid = f1.part
